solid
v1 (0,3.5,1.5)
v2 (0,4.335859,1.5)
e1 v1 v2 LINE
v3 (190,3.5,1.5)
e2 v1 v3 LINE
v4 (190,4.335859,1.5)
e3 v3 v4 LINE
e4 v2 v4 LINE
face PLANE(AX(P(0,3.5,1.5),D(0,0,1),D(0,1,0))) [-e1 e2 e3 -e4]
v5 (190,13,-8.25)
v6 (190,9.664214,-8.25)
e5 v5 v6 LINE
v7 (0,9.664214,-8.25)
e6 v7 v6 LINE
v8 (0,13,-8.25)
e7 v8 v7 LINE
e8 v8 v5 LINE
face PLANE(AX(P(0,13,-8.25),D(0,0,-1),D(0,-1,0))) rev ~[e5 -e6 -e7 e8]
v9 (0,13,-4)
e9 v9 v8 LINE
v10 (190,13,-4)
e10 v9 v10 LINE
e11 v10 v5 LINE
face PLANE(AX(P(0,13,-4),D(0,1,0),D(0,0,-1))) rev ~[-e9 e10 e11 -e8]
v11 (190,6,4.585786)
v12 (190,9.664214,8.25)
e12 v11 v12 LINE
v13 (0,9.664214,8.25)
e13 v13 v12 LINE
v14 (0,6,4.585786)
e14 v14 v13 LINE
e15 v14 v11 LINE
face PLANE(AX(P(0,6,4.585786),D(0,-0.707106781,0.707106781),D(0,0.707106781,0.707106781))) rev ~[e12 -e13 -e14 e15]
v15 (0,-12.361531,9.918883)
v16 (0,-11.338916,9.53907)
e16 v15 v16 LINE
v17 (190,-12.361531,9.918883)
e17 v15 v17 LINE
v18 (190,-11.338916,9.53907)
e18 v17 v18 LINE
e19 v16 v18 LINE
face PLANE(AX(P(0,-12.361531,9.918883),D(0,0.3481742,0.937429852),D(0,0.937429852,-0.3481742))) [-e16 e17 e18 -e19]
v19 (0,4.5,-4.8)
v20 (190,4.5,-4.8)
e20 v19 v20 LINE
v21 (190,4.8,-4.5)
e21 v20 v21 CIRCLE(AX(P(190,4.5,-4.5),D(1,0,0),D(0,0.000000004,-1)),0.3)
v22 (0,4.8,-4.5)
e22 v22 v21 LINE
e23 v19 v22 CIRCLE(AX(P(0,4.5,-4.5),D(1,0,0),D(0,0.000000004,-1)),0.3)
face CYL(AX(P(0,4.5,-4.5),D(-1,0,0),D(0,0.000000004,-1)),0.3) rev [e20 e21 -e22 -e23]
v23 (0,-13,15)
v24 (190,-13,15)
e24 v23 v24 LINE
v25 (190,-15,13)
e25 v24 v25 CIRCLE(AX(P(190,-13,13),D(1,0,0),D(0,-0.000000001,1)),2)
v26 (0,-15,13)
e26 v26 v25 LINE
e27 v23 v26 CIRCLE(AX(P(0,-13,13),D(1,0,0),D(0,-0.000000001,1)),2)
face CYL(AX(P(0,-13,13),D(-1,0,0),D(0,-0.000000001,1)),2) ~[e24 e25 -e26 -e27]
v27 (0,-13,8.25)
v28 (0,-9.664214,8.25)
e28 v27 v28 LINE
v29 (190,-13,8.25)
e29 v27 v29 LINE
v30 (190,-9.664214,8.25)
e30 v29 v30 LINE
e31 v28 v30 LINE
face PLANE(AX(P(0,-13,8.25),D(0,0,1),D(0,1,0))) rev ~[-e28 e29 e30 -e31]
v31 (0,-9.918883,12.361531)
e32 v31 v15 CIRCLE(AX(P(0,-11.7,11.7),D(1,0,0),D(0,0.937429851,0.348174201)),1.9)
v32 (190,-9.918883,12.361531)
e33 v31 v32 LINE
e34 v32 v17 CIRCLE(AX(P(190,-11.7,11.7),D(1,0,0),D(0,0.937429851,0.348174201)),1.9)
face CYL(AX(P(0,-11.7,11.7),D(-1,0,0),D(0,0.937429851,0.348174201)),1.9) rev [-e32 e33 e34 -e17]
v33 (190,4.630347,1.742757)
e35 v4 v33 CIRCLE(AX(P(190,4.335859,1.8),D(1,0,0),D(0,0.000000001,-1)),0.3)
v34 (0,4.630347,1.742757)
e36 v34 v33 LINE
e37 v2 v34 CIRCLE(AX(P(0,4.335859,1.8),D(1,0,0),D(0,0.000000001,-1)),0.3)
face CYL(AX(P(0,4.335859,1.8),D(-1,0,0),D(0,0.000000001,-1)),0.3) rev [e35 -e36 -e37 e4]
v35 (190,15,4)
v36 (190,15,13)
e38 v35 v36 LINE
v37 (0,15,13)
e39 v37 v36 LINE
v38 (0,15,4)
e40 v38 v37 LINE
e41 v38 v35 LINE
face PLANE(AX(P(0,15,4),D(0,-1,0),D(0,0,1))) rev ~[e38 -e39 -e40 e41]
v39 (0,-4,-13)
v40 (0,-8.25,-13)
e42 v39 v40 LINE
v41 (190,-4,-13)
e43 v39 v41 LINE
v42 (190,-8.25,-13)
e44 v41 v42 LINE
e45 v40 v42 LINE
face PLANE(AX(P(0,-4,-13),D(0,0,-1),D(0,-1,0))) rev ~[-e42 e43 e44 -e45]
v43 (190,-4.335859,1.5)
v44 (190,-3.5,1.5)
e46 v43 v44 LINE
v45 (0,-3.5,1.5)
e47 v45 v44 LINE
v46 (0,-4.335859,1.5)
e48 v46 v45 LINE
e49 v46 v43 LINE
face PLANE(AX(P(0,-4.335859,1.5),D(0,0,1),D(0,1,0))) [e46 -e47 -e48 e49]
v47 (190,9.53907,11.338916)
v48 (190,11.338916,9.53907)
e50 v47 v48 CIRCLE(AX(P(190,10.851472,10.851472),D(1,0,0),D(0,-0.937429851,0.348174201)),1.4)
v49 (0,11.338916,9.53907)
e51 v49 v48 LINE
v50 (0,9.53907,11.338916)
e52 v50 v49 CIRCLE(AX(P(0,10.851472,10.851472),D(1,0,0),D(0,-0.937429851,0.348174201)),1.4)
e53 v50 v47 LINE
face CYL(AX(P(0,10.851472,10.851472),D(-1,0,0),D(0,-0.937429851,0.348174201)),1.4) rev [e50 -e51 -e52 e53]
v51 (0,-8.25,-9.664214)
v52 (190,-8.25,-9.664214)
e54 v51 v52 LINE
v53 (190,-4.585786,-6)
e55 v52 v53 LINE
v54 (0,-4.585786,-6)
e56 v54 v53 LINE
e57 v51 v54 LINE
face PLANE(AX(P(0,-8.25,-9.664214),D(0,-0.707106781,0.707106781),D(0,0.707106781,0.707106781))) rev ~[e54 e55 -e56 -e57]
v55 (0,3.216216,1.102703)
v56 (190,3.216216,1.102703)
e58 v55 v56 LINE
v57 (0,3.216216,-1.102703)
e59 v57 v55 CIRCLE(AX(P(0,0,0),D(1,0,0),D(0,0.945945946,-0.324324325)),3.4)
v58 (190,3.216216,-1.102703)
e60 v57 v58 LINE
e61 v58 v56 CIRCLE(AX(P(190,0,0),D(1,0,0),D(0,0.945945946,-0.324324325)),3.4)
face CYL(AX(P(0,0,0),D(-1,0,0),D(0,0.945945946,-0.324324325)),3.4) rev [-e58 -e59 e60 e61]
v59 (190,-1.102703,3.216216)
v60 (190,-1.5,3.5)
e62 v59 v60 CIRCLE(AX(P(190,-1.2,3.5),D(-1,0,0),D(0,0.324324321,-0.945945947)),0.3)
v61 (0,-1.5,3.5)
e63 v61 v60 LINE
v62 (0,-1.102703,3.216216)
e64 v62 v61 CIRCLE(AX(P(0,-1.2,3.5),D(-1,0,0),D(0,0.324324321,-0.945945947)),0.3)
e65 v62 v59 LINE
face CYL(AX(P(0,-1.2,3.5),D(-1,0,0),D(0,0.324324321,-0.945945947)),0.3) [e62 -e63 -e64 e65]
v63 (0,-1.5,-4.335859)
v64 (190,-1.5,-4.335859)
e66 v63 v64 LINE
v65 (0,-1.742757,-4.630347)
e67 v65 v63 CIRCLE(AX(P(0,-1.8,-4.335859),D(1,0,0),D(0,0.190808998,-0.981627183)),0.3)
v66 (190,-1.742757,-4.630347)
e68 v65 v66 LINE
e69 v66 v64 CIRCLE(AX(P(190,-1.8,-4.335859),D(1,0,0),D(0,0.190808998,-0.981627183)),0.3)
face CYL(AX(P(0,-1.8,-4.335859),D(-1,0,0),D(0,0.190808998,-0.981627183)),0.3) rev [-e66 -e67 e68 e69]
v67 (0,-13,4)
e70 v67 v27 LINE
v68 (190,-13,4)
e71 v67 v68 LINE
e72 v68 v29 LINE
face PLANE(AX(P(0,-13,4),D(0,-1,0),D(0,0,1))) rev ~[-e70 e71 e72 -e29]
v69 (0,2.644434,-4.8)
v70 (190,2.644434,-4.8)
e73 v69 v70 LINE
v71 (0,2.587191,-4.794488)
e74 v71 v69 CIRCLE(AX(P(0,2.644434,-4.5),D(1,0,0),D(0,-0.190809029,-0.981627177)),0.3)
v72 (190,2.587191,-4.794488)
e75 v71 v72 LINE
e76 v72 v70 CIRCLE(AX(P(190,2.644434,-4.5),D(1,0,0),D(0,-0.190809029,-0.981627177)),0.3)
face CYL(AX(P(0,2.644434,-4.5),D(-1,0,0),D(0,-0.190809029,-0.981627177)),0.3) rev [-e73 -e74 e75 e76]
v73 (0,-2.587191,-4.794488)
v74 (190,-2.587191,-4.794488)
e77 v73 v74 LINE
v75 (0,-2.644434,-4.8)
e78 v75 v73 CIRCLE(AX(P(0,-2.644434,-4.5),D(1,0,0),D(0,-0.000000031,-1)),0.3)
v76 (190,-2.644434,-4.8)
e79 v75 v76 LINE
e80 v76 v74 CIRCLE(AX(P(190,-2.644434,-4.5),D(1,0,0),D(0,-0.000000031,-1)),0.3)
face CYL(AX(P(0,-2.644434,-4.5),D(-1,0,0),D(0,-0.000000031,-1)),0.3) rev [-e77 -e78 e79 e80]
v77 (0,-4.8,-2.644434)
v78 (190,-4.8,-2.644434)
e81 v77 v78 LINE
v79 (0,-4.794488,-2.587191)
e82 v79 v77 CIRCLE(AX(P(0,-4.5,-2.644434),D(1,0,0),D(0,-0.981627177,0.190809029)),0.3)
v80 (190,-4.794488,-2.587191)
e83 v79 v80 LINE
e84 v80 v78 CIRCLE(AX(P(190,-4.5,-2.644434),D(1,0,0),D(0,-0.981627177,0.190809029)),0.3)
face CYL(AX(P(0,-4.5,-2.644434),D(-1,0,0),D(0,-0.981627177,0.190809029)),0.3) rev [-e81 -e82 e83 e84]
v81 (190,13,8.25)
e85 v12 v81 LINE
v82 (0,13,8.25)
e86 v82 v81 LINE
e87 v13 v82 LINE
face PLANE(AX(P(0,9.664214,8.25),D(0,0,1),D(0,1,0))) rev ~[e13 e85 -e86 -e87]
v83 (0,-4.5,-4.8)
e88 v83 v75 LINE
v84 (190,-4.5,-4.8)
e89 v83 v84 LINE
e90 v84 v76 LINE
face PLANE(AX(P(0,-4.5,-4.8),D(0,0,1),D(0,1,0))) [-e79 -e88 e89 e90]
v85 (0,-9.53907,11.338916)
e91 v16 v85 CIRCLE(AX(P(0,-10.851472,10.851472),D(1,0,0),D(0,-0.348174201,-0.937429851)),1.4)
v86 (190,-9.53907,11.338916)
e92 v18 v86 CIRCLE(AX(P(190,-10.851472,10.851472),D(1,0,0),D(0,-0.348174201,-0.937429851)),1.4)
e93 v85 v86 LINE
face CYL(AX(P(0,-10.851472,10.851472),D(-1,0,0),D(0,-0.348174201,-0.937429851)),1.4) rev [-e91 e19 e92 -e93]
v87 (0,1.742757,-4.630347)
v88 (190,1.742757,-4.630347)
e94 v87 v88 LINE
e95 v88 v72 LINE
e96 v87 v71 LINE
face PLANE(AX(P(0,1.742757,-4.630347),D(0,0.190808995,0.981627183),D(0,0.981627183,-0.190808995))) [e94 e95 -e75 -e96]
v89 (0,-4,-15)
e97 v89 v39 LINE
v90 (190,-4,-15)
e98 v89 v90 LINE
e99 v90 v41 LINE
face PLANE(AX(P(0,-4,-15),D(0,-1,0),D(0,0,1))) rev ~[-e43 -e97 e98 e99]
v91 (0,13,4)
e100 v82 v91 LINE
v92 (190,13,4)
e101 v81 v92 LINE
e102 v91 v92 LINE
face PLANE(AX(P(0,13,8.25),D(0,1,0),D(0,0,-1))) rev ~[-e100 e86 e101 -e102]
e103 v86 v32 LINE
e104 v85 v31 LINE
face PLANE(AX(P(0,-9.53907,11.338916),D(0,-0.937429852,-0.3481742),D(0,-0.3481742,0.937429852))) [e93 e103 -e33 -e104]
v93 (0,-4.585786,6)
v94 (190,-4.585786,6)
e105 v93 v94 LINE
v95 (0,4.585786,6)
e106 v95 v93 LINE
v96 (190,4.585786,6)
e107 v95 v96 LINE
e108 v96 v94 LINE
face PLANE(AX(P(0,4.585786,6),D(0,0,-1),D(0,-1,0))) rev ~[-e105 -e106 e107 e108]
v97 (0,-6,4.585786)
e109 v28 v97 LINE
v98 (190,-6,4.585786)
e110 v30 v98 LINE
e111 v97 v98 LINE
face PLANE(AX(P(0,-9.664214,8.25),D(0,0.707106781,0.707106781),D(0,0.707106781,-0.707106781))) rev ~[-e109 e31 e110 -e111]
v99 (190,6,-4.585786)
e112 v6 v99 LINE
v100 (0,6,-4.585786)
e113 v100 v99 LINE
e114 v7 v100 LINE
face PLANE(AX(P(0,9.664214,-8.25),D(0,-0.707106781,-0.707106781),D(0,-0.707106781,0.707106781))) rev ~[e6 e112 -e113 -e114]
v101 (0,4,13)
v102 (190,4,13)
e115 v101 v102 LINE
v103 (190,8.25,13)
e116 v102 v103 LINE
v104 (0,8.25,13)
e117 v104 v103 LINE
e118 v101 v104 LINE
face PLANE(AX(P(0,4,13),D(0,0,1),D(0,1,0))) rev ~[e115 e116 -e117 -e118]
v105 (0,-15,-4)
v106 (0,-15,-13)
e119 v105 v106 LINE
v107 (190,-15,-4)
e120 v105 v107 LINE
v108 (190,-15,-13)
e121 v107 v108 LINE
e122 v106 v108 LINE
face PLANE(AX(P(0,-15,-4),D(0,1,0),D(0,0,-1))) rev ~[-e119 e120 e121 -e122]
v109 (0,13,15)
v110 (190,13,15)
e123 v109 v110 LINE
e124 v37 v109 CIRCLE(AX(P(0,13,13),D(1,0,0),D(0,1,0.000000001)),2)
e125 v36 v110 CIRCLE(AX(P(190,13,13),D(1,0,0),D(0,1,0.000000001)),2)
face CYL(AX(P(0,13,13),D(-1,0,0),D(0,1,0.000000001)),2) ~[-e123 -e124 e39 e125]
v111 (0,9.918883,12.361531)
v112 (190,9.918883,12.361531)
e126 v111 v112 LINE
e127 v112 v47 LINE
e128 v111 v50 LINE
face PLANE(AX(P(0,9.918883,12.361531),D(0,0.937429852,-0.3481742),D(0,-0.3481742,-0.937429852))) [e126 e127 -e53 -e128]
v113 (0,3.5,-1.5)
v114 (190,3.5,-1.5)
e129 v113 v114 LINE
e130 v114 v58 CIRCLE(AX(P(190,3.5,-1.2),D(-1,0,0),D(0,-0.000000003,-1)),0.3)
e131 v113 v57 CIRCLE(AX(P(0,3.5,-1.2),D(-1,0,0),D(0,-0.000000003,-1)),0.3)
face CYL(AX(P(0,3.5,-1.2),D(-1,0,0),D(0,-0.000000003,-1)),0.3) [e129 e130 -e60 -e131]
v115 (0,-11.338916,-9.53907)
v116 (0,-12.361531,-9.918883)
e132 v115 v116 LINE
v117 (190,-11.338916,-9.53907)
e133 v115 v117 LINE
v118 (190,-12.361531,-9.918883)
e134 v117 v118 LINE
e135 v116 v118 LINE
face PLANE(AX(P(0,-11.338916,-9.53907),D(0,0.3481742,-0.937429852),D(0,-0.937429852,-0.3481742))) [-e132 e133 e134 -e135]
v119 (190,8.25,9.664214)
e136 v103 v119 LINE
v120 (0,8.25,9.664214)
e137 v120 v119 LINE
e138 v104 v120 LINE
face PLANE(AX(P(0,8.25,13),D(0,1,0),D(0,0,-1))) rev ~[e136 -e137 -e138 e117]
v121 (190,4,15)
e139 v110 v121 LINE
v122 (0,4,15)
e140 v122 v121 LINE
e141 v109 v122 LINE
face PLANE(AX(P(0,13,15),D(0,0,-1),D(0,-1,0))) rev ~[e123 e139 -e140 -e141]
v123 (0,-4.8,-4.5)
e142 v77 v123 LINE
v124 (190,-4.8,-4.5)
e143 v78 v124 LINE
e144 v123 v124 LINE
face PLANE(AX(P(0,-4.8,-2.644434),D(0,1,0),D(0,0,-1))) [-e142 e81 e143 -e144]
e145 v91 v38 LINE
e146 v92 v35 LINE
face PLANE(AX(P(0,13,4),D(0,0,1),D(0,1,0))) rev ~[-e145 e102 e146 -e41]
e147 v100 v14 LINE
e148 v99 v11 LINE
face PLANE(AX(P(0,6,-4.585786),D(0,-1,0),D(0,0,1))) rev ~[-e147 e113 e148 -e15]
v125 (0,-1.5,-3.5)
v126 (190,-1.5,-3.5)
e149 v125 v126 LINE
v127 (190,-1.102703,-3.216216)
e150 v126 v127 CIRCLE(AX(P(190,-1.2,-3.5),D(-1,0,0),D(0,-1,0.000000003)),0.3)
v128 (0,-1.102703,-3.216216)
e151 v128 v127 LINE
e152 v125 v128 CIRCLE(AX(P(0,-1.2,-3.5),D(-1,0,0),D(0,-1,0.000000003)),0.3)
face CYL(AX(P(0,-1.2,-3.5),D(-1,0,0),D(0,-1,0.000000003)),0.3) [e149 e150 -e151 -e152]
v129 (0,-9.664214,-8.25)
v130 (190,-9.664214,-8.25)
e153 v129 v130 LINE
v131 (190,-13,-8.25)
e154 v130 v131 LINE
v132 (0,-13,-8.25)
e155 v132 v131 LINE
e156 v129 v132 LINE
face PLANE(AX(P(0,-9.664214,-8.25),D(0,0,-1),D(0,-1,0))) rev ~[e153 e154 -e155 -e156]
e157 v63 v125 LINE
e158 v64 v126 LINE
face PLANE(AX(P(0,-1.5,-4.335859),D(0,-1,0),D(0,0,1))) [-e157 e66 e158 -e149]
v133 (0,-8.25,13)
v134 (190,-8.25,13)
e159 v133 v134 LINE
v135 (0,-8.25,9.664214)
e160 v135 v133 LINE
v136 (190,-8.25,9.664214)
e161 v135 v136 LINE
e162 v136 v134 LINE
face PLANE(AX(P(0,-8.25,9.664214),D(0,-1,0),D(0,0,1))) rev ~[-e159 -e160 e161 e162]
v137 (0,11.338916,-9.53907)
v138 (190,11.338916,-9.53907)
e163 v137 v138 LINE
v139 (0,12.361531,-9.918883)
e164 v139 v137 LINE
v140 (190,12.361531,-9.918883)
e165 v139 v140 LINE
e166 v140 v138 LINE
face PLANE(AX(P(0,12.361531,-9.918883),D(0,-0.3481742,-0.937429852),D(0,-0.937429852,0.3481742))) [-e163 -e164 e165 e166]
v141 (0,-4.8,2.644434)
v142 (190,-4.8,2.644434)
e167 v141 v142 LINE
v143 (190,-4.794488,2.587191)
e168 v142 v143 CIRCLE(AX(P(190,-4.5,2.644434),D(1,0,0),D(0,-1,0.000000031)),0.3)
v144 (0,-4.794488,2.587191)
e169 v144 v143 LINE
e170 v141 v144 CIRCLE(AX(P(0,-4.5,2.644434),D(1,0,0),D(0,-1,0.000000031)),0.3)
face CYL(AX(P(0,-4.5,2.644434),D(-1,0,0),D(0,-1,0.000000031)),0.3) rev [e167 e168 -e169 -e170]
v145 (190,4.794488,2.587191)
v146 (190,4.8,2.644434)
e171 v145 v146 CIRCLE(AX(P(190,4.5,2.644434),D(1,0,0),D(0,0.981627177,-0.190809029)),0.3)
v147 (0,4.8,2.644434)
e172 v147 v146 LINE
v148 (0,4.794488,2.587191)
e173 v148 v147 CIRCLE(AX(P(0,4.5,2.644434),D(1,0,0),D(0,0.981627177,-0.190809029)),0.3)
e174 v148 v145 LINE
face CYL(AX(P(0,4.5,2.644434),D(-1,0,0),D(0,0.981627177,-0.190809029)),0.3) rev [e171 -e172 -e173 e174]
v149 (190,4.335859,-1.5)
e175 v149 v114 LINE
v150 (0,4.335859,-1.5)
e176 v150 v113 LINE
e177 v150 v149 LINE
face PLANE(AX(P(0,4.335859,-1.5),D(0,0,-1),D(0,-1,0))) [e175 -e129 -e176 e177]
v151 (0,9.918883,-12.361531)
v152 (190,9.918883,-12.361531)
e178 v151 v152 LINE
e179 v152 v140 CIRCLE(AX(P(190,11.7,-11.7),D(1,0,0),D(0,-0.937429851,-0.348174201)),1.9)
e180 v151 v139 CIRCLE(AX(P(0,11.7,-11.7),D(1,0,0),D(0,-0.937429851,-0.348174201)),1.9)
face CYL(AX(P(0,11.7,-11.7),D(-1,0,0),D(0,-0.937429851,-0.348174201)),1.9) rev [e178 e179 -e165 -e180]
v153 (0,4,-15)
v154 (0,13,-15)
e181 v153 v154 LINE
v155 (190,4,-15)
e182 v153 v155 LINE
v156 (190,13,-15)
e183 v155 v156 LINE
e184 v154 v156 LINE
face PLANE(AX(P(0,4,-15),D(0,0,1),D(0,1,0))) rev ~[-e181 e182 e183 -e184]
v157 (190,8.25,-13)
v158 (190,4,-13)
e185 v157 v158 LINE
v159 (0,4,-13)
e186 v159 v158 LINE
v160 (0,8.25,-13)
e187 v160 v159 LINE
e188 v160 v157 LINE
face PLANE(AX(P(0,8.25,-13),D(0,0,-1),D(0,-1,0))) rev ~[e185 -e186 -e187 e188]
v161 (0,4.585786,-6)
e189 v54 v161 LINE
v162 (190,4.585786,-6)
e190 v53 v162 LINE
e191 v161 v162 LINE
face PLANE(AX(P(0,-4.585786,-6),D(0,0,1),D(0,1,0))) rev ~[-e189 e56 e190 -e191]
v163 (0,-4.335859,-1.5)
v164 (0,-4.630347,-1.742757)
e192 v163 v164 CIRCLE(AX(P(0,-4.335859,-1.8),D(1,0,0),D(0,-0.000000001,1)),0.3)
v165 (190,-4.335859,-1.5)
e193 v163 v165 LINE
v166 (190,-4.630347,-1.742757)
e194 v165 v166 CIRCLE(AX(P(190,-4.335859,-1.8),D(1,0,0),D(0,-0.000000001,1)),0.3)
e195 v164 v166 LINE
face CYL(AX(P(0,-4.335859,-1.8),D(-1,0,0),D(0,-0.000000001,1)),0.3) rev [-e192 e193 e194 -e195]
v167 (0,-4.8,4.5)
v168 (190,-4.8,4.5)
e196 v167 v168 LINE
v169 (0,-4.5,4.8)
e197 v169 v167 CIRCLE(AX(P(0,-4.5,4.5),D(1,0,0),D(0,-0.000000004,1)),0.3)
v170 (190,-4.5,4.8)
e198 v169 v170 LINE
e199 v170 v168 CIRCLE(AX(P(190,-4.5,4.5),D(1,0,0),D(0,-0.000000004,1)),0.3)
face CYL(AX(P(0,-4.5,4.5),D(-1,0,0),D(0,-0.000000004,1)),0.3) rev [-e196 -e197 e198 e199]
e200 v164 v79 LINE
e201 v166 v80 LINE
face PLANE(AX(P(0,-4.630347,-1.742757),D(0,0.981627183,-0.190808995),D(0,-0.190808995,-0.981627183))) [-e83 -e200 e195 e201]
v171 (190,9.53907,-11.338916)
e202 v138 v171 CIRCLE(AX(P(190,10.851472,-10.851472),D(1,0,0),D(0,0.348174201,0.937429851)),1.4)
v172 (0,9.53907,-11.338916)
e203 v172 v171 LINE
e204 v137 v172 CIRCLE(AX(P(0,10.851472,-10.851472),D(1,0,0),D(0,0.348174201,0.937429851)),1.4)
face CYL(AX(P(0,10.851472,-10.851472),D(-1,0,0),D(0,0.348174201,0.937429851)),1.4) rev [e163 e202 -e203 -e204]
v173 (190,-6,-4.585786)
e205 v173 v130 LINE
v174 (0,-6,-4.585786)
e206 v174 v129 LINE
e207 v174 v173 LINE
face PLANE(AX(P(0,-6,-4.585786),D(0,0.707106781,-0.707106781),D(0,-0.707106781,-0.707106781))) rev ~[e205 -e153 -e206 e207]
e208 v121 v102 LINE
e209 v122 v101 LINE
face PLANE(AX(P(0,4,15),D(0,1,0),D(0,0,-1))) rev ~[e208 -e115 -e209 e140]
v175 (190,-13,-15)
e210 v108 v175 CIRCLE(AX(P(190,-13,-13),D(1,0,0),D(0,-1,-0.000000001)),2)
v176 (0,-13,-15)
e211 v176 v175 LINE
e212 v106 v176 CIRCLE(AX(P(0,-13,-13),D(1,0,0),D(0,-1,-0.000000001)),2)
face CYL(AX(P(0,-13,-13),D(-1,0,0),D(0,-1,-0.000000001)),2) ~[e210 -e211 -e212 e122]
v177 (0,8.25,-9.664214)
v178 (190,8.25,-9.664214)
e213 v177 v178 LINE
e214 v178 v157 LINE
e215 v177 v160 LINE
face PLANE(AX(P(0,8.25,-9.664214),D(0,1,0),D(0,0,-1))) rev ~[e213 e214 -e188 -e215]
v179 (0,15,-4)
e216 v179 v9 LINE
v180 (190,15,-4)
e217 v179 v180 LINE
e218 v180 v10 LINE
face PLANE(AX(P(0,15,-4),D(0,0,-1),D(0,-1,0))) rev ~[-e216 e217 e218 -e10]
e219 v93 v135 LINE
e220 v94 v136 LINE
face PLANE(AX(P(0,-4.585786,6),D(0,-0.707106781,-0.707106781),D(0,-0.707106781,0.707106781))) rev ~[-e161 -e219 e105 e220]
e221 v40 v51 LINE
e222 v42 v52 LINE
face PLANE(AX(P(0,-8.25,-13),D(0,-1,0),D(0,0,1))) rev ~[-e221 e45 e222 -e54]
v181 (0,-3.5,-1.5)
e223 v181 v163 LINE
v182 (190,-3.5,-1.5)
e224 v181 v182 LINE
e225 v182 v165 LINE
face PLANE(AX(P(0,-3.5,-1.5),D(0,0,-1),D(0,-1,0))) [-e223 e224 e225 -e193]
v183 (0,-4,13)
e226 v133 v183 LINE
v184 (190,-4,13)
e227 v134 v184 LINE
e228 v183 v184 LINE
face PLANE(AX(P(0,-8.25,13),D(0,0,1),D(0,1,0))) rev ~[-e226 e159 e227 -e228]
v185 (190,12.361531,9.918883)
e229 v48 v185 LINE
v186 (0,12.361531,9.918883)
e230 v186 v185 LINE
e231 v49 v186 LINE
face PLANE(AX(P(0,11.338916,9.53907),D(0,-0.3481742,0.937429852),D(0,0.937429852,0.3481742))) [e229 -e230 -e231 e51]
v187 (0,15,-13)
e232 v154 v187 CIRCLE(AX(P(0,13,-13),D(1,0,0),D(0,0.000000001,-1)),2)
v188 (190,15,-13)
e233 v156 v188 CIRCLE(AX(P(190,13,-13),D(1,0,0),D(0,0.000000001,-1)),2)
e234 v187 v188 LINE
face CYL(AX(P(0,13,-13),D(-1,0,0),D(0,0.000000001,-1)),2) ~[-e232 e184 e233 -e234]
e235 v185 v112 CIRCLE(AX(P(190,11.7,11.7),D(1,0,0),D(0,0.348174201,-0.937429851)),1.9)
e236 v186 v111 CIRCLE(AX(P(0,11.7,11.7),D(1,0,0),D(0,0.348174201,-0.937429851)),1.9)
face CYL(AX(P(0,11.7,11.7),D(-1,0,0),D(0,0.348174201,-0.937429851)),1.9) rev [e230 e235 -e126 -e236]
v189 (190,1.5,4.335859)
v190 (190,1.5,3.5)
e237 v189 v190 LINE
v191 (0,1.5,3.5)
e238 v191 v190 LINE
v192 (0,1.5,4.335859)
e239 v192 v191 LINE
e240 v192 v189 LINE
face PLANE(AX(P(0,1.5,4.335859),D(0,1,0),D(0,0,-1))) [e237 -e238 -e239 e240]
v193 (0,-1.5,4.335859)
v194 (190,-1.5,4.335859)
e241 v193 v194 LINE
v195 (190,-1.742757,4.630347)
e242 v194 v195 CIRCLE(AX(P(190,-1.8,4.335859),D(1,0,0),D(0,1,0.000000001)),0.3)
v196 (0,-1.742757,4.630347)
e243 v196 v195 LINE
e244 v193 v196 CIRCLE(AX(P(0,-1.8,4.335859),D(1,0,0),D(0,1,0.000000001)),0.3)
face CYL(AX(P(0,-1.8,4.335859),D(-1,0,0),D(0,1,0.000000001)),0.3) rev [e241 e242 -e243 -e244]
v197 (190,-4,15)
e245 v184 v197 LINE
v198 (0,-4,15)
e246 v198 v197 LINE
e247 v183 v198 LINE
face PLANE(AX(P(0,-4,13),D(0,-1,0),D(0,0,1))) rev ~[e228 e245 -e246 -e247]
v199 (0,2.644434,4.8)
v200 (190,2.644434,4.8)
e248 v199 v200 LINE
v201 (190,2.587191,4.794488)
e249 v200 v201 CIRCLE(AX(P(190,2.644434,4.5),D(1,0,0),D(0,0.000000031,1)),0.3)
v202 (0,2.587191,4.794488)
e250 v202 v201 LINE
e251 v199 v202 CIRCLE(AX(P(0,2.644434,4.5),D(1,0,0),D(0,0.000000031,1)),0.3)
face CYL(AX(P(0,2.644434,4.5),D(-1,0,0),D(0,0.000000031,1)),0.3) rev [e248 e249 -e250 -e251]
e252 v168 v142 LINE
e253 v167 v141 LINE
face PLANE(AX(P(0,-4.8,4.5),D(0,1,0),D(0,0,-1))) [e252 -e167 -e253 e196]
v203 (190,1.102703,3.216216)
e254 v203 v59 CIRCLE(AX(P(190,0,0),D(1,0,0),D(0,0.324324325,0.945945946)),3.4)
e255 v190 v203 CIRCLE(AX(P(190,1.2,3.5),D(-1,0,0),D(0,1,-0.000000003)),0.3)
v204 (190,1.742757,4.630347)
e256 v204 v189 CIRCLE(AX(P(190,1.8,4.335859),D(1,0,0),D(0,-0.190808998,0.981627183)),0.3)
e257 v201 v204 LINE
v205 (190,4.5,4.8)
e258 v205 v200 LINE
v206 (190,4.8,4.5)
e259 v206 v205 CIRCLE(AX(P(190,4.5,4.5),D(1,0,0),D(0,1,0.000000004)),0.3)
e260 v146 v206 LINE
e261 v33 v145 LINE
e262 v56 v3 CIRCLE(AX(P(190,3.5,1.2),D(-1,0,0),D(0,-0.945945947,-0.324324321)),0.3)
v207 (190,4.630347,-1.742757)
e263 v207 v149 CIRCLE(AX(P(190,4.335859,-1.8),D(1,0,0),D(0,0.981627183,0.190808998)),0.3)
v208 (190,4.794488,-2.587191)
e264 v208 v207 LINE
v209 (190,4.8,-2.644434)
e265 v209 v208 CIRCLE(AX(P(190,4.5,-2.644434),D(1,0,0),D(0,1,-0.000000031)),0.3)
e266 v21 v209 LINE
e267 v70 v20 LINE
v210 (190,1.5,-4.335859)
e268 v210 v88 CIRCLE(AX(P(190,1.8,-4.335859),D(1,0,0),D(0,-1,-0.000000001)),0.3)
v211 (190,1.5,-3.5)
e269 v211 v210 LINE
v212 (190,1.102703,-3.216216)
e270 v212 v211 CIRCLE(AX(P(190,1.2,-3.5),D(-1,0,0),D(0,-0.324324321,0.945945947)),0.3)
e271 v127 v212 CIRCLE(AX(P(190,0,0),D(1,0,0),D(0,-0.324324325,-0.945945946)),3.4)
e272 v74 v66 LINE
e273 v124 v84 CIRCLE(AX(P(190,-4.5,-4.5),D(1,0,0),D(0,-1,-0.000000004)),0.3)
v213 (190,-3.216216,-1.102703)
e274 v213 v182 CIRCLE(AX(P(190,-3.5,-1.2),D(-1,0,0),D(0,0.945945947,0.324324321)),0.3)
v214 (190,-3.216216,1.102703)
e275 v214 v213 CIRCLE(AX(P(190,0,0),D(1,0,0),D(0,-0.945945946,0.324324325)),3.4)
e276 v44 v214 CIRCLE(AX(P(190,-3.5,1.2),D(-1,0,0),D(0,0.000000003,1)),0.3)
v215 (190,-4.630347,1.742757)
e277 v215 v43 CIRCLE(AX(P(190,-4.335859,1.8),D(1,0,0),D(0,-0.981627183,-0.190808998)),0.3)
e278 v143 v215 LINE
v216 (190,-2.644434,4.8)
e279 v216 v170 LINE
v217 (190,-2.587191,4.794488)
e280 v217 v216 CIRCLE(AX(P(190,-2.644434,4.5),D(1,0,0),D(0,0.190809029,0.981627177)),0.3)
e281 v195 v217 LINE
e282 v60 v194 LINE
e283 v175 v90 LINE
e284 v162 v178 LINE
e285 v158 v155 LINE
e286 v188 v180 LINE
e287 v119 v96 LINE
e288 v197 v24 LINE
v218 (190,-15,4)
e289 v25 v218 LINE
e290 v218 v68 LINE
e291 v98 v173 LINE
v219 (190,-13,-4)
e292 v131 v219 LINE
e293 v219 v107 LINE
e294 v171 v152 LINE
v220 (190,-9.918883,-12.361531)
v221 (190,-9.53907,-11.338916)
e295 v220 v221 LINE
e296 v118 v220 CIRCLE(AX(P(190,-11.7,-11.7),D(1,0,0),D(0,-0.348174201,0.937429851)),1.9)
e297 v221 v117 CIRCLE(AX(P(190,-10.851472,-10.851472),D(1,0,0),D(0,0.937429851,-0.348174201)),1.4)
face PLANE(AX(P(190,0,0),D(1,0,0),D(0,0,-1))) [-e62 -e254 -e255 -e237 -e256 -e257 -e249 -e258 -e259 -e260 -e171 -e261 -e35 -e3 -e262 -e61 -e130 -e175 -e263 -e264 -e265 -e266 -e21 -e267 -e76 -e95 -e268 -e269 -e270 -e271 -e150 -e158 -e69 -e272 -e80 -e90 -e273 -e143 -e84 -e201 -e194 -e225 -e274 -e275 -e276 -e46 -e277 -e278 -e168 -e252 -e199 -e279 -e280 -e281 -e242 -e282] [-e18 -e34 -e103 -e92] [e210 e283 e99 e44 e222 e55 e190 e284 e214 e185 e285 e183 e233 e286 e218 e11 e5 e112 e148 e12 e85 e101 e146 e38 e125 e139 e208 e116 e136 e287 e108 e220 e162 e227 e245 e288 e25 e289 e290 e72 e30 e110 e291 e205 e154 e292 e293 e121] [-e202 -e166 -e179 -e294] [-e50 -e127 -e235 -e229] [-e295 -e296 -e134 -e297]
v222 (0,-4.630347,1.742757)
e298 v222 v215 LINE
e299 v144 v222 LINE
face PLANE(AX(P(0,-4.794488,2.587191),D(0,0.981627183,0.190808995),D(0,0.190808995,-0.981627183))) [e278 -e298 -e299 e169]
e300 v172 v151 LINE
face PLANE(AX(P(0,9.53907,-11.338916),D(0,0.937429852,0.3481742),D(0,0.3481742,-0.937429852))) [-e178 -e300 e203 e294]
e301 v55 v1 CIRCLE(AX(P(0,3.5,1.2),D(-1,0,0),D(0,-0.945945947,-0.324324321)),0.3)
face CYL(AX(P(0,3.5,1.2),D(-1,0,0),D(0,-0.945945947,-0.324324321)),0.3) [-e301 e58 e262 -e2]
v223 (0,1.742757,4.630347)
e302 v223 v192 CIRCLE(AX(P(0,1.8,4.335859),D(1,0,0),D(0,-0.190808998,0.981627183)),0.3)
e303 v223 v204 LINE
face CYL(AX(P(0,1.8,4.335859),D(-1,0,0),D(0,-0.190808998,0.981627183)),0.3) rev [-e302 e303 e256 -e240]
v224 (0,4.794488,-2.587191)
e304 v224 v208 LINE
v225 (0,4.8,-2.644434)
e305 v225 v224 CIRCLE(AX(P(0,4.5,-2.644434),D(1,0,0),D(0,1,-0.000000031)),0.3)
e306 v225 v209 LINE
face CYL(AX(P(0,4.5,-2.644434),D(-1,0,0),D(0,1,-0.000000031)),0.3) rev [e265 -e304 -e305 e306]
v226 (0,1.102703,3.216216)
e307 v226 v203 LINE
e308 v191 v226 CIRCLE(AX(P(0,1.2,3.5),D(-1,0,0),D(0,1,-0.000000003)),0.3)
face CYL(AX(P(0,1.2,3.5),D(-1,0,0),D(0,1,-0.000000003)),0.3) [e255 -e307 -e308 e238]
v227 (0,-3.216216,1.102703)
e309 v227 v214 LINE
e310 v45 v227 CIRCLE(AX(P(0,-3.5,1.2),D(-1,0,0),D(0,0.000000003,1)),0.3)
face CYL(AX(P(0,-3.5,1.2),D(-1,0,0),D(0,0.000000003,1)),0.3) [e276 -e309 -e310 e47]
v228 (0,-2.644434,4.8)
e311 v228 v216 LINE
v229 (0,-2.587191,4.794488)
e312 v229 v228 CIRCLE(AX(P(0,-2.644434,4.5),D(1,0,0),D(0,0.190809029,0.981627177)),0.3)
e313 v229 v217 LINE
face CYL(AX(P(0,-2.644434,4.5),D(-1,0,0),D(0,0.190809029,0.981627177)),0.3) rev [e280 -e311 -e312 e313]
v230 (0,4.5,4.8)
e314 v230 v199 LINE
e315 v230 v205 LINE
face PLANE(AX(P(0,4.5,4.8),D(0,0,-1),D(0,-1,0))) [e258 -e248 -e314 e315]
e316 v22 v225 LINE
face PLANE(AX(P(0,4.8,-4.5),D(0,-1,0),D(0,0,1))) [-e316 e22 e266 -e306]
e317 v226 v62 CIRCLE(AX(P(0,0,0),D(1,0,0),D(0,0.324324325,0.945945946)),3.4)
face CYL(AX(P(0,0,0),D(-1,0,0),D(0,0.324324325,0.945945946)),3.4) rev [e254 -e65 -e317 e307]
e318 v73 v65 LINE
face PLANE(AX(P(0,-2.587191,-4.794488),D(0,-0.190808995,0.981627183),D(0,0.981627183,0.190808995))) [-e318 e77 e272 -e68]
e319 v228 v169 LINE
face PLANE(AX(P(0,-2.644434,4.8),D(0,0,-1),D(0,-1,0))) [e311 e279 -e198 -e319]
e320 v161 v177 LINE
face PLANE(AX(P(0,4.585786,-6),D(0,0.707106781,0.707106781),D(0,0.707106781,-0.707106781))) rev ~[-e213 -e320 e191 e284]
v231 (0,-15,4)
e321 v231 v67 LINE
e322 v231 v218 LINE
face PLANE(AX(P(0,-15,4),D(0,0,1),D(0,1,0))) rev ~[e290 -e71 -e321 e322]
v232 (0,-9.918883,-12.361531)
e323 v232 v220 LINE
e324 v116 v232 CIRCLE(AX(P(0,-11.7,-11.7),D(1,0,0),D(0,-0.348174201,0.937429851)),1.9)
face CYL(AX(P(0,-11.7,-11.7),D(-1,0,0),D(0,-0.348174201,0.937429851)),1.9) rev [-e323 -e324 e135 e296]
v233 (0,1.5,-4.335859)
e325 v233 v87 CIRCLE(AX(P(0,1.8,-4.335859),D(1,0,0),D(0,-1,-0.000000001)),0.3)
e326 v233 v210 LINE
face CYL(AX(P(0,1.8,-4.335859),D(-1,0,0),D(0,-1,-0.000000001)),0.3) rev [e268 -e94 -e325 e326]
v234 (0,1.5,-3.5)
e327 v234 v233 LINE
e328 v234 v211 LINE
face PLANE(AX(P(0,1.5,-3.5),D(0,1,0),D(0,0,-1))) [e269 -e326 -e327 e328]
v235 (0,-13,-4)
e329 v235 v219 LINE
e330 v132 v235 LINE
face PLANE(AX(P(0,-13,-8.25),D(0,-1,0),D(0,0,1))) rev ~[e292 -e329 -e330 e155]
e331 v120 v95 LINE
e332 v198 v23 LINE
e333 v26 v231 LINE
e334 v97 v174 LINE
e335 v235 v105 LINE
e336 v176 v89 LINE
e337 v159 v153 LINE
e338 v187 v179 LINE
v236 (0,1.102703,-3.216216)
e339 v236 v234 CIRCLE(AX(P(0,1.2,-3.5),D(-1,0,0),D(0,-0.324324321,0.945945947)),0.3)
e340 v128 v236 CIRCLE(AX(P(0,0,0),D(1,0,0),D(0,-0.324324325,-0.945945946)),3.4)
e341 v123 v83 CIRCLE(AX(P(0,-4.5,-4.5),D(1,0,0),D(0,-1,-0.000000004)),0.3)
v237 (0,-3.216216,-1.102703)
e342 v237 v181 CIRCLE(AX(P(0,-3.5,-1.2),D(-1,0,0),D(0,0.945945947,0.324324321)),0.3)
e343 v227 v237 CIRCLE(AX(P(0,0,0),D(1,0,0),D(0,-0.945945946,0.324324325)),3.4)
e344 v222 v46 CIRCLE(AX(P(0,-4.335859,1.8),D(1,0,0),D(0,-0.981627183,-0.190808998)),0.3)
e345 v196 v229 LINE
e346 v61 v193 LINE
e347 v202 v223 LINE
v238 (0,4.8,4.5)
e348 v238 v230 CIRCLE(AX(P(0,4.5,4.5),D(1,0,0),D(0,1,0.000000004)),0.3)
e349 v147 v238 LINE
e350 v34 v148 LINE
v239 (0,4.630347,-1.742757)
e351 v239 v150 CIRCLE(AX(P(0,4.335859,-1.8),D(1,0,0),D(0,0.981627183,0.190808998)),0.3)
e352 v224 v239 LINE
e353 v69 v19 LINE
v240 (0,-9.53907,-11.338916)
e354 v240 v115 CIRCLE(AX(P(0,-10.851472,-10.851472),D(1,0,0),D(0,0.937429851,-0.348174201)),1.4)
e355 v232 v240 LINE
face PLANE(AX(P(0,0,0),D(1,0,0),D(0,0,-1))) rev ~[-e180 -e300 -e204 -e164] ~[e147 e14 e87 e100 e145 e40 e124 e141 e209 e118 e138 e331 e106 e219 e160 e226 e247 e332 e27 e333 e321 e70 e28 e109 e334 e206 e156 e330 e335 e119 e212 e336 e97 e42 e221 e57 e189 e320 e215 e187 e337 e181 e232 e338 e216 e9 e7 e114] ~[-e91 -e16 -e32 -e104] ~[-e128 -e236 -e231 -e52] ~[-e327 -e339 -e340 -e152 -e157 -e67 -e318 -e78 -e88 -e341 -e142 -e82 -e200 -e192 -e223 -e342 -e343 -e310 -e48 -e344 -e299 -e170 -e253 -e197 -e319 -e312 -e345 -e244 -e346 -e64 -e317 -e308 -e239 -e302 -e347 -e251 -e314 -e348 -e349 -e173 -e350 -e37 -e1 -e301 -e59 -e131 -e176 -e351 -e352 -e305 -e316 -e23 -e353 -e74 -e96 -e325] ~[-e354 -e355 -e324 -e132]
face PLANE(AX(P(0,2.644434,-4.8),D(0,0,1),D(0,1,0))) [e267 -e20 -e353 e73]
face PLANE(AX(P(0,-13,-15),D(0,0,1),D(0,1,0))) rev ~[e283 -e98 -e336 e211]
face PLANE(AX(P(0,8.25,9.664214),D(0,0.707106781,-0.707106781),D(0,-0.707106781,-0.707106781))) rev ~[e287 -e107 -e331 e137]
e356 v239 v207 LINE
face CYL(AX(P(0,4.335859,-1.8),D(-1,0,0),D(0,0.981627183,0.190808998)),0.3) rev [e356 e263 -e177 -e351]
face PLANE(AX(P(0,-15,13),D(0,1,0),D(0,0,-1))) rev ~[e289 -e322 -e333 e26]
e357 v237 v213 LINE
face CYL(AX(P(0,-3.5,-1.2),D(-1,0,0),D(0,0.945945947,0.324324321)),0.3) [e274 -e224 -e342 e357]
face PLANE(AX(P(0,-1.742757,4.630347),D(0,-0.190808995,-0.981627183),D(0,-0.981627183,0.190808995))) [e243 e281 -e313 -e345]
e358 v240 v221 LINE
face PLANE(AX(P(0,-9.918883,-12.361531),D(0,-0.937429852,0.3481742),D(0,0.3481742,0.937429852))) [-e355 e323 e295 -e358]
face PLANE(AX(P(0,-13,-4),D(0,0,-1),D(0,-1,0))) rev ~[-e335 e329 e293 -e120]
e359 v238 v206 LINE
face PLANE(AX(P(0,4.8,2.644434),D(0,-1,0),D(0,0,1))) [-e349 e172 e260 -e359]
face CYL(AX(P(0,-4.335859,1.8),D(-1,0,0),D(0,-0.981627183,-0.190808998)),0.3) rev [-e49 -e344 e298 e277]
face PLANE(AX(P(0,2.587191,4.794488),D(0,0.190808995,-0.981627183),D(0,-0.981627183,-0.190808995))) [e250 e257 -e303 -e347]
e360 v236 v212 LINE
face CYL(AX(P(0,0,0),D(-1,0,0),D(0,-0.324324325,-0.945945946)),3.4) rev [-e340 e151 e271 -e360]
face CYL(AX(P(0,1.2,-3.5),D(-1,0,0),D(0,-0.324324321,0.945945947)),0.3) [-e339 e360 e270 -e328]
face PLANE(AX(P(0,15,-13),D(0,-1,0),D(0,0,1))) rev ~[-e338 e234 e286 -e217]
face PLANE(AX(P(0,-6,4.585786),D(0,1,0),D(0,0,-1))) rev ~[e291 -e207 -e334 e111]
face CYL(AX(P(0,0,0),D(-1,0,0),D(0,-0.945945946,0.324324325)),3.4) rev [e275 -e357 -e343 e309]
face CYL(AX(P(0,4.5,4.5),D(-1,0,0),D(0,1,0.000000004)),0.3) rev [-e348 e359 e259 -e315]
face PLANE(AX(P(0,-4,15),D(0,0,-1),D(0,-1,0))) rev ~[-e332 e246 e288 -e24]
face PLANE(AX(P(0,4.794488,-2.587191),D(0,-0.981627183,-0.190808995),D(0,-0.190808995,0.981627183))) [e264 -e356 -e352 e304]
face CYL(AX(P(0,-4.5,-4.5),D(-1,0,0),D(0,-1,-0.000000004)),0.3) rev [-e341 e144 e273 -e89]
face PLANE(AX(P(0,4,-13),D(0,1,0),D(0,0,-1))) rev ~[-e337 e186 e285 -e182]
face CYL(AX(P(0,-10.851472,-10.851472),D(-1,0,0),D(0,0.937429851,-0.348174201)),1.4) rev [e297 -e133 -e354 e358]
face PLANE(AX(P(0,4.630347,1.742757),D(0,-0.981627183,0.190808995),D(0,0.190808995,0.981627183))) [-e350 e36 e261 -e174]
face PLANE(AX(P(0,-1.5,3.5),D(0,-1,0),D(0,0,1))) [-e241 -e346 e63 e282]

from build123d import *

# Parameters (mm, degrees)
BOSS_EXTRUDE1_DEPTH = 190


with BuildPart() as part:
    # Sketch1 → Boss-Extrude1 (new body)
    with BuildSketch(Plane(origin=(0, 0, 0), x_dir=(0, 0, -1), z_dir=(1, 0, 0))):
        with BuildLine():
            Line((-15, 13), (-15, 4))
            Line((-15, 4), (-13, 4))
            Line((-13, 4), (-13, 8.25))
            Line((-13, 8.25), (-9.664213562, 8.25))
            Line((-9.664213562, 8.25), (-6, 4.585786438))
            Line((-6, 4.585786438), (-6, -4.585786438))
            Line((-6, -4.585786438), (-9.664213562, -8.25))
            Line((-9.664213562, -8.25), (-13, -8.25))
            Line((-13, -8.25), (-13, -4))
            Line((-13, -4), (-15, -4))
            Line((-15, -4), (-15, -13))
            ThreePointArc((-15, -13), (-14.414213562, -14.414213562), (-13, -15))
            Line((-13, -15), (-4, -15))
            Line((-4, -15), (-4, -13))
            Line((-4, -13), (-8.25, -13))
            Line((-8.25, -13), (-8.25, -9.664213562))
            Line((-8.25, -9.664213562), (-4.585786438, -6))
            Line((-4.585786438, -6), (4.585786438, -6))
            Line((4.585786438, -6), (8.25, -9.664213562))
            Line((8.25, -9.664213562), (8.25, -13))
            Line((8.25, -13), (4, -13))
            Line((4, -13), (4, -15))
            Line((4, -15), (13, -15))
            ThreePointArc((13, -15), (14.414213562, -14.414213562), (15, -13))
            Line((15, -13), (15, -4))
            Line((15, -4), (13, -4))
            Line((13, -4), (13, -8.25))
            Line((13, -8.25), (9.664213562, -8.25))
            Line((9.664213562, -8.25), (6, -4.585786438))
            Line((6, -4.585786438), (6, 4.585786438))
            Line((6, 4.585786438), (9.664213562, 8.25))
            Line((9.664213562, 8.25), (13, 8.25))
            Line((13, 8.25), (13, 4))
            Line((13, 4), (15, 4))
            Line((15, 4), (15, 13))
            ThreePointArc((15, 13), (14.414213562, 14.414213562), (13, 15))
            Line((13, 15), (4, 15))
            Line((4, 15), (4, 13))
            Line((4, 13), (8.25, 13))
            Line((8.25, 13), (8.25, 9.664213562))
            Line((8.25, 9.664213562), (4.585786438, 6))
            Line((4.585786438, 6), (-4.585786438, 6))
            Line((-4.585786438, 6), (-8.25, 9.664213562))
            Line((-8.25, 9.664213562), (-8.25, 13))
            Line((-8.25, 13), (-4, 13))
            Line((-4, 13), (-4, 15))
            Line((-4, 15), (-13, 15))
            ThreePointArc((-13, 15), (-14.414213562, 14.414213562), (-15, 13))
        make_face()
        with BuildLine():
            Line((-9.539070071, 11.338915743), (-9.918883282, 12.361530981))
            ThreePointArc((-9.918883282, 12.361530981), (-13.043502884, 13.043502884), (-12.361530981, 9.918883282))
            Line((-12.361530981, 9.918883282), (-11.338915743, 9.539070071))
            ThreePointArc((-11.338915743, 9.539070071), (-9.861522369, 9.861522369), (-9.539070071, 11.338915743))
        make_face(mode=Mode.SUBTRACT)
        with BuildLine():
            Line((9.918883282, 12.361530981), (9.539070071, 11.338915743))
            ThreePointArc((9.539070071, 11.338915743), (9.861522369, 9.861522369), (11.338915743, 9.539070071))
            Line((11.338915743, 9.539070071), (12.361530981, 9.918883282))
            ThreePointArc((12.361530981, 9.918883282), (13.043502884, 13.043502884), (9.918883282, 12.361530981))
        make_face(mode=Mode.SUBTRACT)
        with BuildLine():
            Line((12.361530981, -9.918883282), (11.338915743, -9.539070071))
            ThreePointArc((11.338915743, -9.539070071), (9.861522369, -9.861522369), (9.539070071, -11.338915743))
            Line((9.539070071, -11.338915743), (9.918883282, -12.361530981))
            ThreePointArc((9.918883282, -12.361530981), (13.043502884, -13.043502884), (12.361530981, -9.918883282))
        make_face(mode=Mode.SUBTRACT)
        with BuildLine():
            Line((-11.338915743, -9.539070071), (-12.361530981, -9.918883282))
            ThreePointArc((-12.361530981, -9.918883282), (-13.043502884, -13.043502884), (-9.918883282, -12.361530981))
            Line((-9.918883282, -12.361530981), (-9.539070071, -11.338915743))
            ThreePointArc((-9.539070071, -11.338915743), (-9.861522369, -9.861522369), (-11.338915743, -9.539070071))
        make_face(mode=Mode.SUBTRACT)
        with BuildLine():
            Line((-4.8, -2.644433572), (-4.8, -4.5))
            ThreePointArc((-4.8, -4.5), (-4.712132034, -4.712132034), (-4.5, -4.8))
            Line((-4.5, -4.8), (-2.644433572, -4.8))
            ThreePointArc((-2.644433572, -4.8), (-2.615679847, -4.79861886), (-2.587190874, -4.794488155))
            Line((-2.587190874, -4.794488155), (-1.742757301, -4.630346896))
            ThreePointArc((-1.742757301, -4.630346896), (-1.568512625, -4.526682207), (-1.5, -4.335858741))
            Line((-1.5, -4.335858741), (-1.5, -3.5))
            ThreePointArc((-1.5, -3.5), (-1.374371458, -3.255879959), (-1.102702703, -3.216216216))
            ThreePointArc((-1.102702703, -3.216216216), (0, -3.4), (1.102702703, -3.216216216))
            ThreePointArc((1.102702703, -3.216216216), (1.374371458, -3.255879959), (1.5, -3.5))
            Line((1.5, -3.5), (1.5, -4.335858741))
            ThreePointArc((1.5, -4.335858741), (1.568512625, -4.526682207), (1.742757301, -4.630346896))
            Line((1.742757301, -4.630346896), (2.587190874, -4.794488155))
            ThreePointArc((2.587190874, -4.794488155), (2.615679847, -4.79861886), (2.644433572, -4.8))
            Line((2.644433572, -4.8), (4.5, -4.8))
            ThreePointArc((4.5, -4.8), (4.712132034, -4.712132034), (4.8, -4.5))
            Line((4.8, -4.5), (4.8, -2.644433572))
            ThreePointArc((4.8, -2.644433572), (4.79861886, -2.615679847), (4.794488155, -2.587190874))
            Line((4.794488155, -2.587190874), (4.630346896, -1.742757301))
            ThreePointArc((4.630346896, -1.742757301), (4.526682207, -1.568512625), (4.335858741, -1.5))
            Line((4.335858741, -1.5), (3.5, -1.5))
            ThreePointArc((3.5, -1.5), (3.255879959, -1.374371458), (3.216216216, -1.102702703))
            ThreePointArc((3.216216216, -1.102702703), (3.4, 0), (3.216216216, 1.102702703))
            ThreePointArc((3.216216216, 1.102702703), (3.255879959, 1.374371458), (3.5, 1.5))
            Line((3.5, 1.5), (4.335858741, 1.5))
            ThreePointArc((4.335858741, 1.5), (4.526682207, 1.568512625), (4.630346896, 1.742757301))
            Line((4.630346896, 1.742757301), (4.794488155, 2.587190874))
            ThreePointArc((4.794488155, 2.587190874), (4.79861886, 2.615679847), (4.8, 2.644433572))
            Line((4.8, 2.644433572), (4.8, 4.5))
            ThreePointArc((4.8, 4.5), (4.712132034, 4.712132034), (4.5, 4.8))
            Line((4.5, 4.8), (2.644433572, 4.8))
            ThreePointArc((2.644433572, 4.8), (2.615679847, 4.79861886), (2.587190874, 4.794488155))
            Line((2.587190874, 4.794488155), (1.742757301, 4.630346896))
            ThreePointArc((1.742757301, 4.630346896), (1.568512625, 4.526682207), (1.5, 4.335858741))
            Line((1.5, 4.335858741), (1.5, 3.5))
            ThreePointArc((1.5, 3.5), (1.374371458, 3.255879959), (1.102702703, 3.216216216))
            ThreePointArc((1.102702703, 3.216216216), (0, 3.4), (-1.102702703, 3.216216216))
            ThreePointArc((-1.102702703, 3.216216216), (-1.374371458, 3.255879959), (-1.5, 3.5))
            Line((-1.5, 3.5), (-1.5, 4.335858741))
            ThreePointArc((-1.5, 4.335858741), (-1.568512625, 4.526682207), (-1.742757301, 4.630346896))
            Line((-1.742757301, 4.630346896), (-2.587190874, 4.794488155))
            ThreePointArc((-2.587190874, 4.794488155), (-2.615679847, 4.79861886), (-2.644433572, 4.8))
            Line((-2.644433572, 4.8), (-4.5, 4.8))
            ThreePointArc((-4.5, 4.8), (-4.712132034, 4.712132034), (-4.8, 4.5))
            Line((-4.8, 4.5), (-4.8, 2.644433572))
            ThreePointArc((-4.8, 2.644433572), (-4.79861886, 2.615679847), (-4.794488155, 2.587190874))
            Line((-4.794488155, 2.587190874), (-4.630346896, 1.742757301))
            ThreePointArc((-4.630346896, 1.742757301), (-4.526682207, 1.568512625), (-4.335858741, 1.5))
            Line((-4.335858741, 1.5), (-3.5, 1.5))
            ThreePointArc((-3.5, 1.5), (-3.255879959, 1.374371458), (-3.216216216, 1.102702703))
            ThreePointArc((-3.216216216, 1.102702703), (-3.4, 0), (-3.216216216, -1.102702703))
            ThreePointArc((-3.216216216, -1.102702703), (-3.255879959, -1.374371458), (-3.5, -1.5))
            Line((-3.5, -1.5), (-4.335858741, -1.5))
            ThreePointArc((-4.335858741, -1.5), (-4.526682207, -1.568512625), (-4.630346896, -1.742757301))
            Line((-4.630346896, -1.742757301), (-4.794488155, -2.587190874))
            ThreePointArc((-4.794488155, -2.587190874), (-4.79861886, -2.615679847), (-4.8, -2.644433572))
        make_face(mode=Mode.SUBTRACT)
    extrude(amount=BOSS_EXTRUDE1_DEPTH)


solid = part.part
